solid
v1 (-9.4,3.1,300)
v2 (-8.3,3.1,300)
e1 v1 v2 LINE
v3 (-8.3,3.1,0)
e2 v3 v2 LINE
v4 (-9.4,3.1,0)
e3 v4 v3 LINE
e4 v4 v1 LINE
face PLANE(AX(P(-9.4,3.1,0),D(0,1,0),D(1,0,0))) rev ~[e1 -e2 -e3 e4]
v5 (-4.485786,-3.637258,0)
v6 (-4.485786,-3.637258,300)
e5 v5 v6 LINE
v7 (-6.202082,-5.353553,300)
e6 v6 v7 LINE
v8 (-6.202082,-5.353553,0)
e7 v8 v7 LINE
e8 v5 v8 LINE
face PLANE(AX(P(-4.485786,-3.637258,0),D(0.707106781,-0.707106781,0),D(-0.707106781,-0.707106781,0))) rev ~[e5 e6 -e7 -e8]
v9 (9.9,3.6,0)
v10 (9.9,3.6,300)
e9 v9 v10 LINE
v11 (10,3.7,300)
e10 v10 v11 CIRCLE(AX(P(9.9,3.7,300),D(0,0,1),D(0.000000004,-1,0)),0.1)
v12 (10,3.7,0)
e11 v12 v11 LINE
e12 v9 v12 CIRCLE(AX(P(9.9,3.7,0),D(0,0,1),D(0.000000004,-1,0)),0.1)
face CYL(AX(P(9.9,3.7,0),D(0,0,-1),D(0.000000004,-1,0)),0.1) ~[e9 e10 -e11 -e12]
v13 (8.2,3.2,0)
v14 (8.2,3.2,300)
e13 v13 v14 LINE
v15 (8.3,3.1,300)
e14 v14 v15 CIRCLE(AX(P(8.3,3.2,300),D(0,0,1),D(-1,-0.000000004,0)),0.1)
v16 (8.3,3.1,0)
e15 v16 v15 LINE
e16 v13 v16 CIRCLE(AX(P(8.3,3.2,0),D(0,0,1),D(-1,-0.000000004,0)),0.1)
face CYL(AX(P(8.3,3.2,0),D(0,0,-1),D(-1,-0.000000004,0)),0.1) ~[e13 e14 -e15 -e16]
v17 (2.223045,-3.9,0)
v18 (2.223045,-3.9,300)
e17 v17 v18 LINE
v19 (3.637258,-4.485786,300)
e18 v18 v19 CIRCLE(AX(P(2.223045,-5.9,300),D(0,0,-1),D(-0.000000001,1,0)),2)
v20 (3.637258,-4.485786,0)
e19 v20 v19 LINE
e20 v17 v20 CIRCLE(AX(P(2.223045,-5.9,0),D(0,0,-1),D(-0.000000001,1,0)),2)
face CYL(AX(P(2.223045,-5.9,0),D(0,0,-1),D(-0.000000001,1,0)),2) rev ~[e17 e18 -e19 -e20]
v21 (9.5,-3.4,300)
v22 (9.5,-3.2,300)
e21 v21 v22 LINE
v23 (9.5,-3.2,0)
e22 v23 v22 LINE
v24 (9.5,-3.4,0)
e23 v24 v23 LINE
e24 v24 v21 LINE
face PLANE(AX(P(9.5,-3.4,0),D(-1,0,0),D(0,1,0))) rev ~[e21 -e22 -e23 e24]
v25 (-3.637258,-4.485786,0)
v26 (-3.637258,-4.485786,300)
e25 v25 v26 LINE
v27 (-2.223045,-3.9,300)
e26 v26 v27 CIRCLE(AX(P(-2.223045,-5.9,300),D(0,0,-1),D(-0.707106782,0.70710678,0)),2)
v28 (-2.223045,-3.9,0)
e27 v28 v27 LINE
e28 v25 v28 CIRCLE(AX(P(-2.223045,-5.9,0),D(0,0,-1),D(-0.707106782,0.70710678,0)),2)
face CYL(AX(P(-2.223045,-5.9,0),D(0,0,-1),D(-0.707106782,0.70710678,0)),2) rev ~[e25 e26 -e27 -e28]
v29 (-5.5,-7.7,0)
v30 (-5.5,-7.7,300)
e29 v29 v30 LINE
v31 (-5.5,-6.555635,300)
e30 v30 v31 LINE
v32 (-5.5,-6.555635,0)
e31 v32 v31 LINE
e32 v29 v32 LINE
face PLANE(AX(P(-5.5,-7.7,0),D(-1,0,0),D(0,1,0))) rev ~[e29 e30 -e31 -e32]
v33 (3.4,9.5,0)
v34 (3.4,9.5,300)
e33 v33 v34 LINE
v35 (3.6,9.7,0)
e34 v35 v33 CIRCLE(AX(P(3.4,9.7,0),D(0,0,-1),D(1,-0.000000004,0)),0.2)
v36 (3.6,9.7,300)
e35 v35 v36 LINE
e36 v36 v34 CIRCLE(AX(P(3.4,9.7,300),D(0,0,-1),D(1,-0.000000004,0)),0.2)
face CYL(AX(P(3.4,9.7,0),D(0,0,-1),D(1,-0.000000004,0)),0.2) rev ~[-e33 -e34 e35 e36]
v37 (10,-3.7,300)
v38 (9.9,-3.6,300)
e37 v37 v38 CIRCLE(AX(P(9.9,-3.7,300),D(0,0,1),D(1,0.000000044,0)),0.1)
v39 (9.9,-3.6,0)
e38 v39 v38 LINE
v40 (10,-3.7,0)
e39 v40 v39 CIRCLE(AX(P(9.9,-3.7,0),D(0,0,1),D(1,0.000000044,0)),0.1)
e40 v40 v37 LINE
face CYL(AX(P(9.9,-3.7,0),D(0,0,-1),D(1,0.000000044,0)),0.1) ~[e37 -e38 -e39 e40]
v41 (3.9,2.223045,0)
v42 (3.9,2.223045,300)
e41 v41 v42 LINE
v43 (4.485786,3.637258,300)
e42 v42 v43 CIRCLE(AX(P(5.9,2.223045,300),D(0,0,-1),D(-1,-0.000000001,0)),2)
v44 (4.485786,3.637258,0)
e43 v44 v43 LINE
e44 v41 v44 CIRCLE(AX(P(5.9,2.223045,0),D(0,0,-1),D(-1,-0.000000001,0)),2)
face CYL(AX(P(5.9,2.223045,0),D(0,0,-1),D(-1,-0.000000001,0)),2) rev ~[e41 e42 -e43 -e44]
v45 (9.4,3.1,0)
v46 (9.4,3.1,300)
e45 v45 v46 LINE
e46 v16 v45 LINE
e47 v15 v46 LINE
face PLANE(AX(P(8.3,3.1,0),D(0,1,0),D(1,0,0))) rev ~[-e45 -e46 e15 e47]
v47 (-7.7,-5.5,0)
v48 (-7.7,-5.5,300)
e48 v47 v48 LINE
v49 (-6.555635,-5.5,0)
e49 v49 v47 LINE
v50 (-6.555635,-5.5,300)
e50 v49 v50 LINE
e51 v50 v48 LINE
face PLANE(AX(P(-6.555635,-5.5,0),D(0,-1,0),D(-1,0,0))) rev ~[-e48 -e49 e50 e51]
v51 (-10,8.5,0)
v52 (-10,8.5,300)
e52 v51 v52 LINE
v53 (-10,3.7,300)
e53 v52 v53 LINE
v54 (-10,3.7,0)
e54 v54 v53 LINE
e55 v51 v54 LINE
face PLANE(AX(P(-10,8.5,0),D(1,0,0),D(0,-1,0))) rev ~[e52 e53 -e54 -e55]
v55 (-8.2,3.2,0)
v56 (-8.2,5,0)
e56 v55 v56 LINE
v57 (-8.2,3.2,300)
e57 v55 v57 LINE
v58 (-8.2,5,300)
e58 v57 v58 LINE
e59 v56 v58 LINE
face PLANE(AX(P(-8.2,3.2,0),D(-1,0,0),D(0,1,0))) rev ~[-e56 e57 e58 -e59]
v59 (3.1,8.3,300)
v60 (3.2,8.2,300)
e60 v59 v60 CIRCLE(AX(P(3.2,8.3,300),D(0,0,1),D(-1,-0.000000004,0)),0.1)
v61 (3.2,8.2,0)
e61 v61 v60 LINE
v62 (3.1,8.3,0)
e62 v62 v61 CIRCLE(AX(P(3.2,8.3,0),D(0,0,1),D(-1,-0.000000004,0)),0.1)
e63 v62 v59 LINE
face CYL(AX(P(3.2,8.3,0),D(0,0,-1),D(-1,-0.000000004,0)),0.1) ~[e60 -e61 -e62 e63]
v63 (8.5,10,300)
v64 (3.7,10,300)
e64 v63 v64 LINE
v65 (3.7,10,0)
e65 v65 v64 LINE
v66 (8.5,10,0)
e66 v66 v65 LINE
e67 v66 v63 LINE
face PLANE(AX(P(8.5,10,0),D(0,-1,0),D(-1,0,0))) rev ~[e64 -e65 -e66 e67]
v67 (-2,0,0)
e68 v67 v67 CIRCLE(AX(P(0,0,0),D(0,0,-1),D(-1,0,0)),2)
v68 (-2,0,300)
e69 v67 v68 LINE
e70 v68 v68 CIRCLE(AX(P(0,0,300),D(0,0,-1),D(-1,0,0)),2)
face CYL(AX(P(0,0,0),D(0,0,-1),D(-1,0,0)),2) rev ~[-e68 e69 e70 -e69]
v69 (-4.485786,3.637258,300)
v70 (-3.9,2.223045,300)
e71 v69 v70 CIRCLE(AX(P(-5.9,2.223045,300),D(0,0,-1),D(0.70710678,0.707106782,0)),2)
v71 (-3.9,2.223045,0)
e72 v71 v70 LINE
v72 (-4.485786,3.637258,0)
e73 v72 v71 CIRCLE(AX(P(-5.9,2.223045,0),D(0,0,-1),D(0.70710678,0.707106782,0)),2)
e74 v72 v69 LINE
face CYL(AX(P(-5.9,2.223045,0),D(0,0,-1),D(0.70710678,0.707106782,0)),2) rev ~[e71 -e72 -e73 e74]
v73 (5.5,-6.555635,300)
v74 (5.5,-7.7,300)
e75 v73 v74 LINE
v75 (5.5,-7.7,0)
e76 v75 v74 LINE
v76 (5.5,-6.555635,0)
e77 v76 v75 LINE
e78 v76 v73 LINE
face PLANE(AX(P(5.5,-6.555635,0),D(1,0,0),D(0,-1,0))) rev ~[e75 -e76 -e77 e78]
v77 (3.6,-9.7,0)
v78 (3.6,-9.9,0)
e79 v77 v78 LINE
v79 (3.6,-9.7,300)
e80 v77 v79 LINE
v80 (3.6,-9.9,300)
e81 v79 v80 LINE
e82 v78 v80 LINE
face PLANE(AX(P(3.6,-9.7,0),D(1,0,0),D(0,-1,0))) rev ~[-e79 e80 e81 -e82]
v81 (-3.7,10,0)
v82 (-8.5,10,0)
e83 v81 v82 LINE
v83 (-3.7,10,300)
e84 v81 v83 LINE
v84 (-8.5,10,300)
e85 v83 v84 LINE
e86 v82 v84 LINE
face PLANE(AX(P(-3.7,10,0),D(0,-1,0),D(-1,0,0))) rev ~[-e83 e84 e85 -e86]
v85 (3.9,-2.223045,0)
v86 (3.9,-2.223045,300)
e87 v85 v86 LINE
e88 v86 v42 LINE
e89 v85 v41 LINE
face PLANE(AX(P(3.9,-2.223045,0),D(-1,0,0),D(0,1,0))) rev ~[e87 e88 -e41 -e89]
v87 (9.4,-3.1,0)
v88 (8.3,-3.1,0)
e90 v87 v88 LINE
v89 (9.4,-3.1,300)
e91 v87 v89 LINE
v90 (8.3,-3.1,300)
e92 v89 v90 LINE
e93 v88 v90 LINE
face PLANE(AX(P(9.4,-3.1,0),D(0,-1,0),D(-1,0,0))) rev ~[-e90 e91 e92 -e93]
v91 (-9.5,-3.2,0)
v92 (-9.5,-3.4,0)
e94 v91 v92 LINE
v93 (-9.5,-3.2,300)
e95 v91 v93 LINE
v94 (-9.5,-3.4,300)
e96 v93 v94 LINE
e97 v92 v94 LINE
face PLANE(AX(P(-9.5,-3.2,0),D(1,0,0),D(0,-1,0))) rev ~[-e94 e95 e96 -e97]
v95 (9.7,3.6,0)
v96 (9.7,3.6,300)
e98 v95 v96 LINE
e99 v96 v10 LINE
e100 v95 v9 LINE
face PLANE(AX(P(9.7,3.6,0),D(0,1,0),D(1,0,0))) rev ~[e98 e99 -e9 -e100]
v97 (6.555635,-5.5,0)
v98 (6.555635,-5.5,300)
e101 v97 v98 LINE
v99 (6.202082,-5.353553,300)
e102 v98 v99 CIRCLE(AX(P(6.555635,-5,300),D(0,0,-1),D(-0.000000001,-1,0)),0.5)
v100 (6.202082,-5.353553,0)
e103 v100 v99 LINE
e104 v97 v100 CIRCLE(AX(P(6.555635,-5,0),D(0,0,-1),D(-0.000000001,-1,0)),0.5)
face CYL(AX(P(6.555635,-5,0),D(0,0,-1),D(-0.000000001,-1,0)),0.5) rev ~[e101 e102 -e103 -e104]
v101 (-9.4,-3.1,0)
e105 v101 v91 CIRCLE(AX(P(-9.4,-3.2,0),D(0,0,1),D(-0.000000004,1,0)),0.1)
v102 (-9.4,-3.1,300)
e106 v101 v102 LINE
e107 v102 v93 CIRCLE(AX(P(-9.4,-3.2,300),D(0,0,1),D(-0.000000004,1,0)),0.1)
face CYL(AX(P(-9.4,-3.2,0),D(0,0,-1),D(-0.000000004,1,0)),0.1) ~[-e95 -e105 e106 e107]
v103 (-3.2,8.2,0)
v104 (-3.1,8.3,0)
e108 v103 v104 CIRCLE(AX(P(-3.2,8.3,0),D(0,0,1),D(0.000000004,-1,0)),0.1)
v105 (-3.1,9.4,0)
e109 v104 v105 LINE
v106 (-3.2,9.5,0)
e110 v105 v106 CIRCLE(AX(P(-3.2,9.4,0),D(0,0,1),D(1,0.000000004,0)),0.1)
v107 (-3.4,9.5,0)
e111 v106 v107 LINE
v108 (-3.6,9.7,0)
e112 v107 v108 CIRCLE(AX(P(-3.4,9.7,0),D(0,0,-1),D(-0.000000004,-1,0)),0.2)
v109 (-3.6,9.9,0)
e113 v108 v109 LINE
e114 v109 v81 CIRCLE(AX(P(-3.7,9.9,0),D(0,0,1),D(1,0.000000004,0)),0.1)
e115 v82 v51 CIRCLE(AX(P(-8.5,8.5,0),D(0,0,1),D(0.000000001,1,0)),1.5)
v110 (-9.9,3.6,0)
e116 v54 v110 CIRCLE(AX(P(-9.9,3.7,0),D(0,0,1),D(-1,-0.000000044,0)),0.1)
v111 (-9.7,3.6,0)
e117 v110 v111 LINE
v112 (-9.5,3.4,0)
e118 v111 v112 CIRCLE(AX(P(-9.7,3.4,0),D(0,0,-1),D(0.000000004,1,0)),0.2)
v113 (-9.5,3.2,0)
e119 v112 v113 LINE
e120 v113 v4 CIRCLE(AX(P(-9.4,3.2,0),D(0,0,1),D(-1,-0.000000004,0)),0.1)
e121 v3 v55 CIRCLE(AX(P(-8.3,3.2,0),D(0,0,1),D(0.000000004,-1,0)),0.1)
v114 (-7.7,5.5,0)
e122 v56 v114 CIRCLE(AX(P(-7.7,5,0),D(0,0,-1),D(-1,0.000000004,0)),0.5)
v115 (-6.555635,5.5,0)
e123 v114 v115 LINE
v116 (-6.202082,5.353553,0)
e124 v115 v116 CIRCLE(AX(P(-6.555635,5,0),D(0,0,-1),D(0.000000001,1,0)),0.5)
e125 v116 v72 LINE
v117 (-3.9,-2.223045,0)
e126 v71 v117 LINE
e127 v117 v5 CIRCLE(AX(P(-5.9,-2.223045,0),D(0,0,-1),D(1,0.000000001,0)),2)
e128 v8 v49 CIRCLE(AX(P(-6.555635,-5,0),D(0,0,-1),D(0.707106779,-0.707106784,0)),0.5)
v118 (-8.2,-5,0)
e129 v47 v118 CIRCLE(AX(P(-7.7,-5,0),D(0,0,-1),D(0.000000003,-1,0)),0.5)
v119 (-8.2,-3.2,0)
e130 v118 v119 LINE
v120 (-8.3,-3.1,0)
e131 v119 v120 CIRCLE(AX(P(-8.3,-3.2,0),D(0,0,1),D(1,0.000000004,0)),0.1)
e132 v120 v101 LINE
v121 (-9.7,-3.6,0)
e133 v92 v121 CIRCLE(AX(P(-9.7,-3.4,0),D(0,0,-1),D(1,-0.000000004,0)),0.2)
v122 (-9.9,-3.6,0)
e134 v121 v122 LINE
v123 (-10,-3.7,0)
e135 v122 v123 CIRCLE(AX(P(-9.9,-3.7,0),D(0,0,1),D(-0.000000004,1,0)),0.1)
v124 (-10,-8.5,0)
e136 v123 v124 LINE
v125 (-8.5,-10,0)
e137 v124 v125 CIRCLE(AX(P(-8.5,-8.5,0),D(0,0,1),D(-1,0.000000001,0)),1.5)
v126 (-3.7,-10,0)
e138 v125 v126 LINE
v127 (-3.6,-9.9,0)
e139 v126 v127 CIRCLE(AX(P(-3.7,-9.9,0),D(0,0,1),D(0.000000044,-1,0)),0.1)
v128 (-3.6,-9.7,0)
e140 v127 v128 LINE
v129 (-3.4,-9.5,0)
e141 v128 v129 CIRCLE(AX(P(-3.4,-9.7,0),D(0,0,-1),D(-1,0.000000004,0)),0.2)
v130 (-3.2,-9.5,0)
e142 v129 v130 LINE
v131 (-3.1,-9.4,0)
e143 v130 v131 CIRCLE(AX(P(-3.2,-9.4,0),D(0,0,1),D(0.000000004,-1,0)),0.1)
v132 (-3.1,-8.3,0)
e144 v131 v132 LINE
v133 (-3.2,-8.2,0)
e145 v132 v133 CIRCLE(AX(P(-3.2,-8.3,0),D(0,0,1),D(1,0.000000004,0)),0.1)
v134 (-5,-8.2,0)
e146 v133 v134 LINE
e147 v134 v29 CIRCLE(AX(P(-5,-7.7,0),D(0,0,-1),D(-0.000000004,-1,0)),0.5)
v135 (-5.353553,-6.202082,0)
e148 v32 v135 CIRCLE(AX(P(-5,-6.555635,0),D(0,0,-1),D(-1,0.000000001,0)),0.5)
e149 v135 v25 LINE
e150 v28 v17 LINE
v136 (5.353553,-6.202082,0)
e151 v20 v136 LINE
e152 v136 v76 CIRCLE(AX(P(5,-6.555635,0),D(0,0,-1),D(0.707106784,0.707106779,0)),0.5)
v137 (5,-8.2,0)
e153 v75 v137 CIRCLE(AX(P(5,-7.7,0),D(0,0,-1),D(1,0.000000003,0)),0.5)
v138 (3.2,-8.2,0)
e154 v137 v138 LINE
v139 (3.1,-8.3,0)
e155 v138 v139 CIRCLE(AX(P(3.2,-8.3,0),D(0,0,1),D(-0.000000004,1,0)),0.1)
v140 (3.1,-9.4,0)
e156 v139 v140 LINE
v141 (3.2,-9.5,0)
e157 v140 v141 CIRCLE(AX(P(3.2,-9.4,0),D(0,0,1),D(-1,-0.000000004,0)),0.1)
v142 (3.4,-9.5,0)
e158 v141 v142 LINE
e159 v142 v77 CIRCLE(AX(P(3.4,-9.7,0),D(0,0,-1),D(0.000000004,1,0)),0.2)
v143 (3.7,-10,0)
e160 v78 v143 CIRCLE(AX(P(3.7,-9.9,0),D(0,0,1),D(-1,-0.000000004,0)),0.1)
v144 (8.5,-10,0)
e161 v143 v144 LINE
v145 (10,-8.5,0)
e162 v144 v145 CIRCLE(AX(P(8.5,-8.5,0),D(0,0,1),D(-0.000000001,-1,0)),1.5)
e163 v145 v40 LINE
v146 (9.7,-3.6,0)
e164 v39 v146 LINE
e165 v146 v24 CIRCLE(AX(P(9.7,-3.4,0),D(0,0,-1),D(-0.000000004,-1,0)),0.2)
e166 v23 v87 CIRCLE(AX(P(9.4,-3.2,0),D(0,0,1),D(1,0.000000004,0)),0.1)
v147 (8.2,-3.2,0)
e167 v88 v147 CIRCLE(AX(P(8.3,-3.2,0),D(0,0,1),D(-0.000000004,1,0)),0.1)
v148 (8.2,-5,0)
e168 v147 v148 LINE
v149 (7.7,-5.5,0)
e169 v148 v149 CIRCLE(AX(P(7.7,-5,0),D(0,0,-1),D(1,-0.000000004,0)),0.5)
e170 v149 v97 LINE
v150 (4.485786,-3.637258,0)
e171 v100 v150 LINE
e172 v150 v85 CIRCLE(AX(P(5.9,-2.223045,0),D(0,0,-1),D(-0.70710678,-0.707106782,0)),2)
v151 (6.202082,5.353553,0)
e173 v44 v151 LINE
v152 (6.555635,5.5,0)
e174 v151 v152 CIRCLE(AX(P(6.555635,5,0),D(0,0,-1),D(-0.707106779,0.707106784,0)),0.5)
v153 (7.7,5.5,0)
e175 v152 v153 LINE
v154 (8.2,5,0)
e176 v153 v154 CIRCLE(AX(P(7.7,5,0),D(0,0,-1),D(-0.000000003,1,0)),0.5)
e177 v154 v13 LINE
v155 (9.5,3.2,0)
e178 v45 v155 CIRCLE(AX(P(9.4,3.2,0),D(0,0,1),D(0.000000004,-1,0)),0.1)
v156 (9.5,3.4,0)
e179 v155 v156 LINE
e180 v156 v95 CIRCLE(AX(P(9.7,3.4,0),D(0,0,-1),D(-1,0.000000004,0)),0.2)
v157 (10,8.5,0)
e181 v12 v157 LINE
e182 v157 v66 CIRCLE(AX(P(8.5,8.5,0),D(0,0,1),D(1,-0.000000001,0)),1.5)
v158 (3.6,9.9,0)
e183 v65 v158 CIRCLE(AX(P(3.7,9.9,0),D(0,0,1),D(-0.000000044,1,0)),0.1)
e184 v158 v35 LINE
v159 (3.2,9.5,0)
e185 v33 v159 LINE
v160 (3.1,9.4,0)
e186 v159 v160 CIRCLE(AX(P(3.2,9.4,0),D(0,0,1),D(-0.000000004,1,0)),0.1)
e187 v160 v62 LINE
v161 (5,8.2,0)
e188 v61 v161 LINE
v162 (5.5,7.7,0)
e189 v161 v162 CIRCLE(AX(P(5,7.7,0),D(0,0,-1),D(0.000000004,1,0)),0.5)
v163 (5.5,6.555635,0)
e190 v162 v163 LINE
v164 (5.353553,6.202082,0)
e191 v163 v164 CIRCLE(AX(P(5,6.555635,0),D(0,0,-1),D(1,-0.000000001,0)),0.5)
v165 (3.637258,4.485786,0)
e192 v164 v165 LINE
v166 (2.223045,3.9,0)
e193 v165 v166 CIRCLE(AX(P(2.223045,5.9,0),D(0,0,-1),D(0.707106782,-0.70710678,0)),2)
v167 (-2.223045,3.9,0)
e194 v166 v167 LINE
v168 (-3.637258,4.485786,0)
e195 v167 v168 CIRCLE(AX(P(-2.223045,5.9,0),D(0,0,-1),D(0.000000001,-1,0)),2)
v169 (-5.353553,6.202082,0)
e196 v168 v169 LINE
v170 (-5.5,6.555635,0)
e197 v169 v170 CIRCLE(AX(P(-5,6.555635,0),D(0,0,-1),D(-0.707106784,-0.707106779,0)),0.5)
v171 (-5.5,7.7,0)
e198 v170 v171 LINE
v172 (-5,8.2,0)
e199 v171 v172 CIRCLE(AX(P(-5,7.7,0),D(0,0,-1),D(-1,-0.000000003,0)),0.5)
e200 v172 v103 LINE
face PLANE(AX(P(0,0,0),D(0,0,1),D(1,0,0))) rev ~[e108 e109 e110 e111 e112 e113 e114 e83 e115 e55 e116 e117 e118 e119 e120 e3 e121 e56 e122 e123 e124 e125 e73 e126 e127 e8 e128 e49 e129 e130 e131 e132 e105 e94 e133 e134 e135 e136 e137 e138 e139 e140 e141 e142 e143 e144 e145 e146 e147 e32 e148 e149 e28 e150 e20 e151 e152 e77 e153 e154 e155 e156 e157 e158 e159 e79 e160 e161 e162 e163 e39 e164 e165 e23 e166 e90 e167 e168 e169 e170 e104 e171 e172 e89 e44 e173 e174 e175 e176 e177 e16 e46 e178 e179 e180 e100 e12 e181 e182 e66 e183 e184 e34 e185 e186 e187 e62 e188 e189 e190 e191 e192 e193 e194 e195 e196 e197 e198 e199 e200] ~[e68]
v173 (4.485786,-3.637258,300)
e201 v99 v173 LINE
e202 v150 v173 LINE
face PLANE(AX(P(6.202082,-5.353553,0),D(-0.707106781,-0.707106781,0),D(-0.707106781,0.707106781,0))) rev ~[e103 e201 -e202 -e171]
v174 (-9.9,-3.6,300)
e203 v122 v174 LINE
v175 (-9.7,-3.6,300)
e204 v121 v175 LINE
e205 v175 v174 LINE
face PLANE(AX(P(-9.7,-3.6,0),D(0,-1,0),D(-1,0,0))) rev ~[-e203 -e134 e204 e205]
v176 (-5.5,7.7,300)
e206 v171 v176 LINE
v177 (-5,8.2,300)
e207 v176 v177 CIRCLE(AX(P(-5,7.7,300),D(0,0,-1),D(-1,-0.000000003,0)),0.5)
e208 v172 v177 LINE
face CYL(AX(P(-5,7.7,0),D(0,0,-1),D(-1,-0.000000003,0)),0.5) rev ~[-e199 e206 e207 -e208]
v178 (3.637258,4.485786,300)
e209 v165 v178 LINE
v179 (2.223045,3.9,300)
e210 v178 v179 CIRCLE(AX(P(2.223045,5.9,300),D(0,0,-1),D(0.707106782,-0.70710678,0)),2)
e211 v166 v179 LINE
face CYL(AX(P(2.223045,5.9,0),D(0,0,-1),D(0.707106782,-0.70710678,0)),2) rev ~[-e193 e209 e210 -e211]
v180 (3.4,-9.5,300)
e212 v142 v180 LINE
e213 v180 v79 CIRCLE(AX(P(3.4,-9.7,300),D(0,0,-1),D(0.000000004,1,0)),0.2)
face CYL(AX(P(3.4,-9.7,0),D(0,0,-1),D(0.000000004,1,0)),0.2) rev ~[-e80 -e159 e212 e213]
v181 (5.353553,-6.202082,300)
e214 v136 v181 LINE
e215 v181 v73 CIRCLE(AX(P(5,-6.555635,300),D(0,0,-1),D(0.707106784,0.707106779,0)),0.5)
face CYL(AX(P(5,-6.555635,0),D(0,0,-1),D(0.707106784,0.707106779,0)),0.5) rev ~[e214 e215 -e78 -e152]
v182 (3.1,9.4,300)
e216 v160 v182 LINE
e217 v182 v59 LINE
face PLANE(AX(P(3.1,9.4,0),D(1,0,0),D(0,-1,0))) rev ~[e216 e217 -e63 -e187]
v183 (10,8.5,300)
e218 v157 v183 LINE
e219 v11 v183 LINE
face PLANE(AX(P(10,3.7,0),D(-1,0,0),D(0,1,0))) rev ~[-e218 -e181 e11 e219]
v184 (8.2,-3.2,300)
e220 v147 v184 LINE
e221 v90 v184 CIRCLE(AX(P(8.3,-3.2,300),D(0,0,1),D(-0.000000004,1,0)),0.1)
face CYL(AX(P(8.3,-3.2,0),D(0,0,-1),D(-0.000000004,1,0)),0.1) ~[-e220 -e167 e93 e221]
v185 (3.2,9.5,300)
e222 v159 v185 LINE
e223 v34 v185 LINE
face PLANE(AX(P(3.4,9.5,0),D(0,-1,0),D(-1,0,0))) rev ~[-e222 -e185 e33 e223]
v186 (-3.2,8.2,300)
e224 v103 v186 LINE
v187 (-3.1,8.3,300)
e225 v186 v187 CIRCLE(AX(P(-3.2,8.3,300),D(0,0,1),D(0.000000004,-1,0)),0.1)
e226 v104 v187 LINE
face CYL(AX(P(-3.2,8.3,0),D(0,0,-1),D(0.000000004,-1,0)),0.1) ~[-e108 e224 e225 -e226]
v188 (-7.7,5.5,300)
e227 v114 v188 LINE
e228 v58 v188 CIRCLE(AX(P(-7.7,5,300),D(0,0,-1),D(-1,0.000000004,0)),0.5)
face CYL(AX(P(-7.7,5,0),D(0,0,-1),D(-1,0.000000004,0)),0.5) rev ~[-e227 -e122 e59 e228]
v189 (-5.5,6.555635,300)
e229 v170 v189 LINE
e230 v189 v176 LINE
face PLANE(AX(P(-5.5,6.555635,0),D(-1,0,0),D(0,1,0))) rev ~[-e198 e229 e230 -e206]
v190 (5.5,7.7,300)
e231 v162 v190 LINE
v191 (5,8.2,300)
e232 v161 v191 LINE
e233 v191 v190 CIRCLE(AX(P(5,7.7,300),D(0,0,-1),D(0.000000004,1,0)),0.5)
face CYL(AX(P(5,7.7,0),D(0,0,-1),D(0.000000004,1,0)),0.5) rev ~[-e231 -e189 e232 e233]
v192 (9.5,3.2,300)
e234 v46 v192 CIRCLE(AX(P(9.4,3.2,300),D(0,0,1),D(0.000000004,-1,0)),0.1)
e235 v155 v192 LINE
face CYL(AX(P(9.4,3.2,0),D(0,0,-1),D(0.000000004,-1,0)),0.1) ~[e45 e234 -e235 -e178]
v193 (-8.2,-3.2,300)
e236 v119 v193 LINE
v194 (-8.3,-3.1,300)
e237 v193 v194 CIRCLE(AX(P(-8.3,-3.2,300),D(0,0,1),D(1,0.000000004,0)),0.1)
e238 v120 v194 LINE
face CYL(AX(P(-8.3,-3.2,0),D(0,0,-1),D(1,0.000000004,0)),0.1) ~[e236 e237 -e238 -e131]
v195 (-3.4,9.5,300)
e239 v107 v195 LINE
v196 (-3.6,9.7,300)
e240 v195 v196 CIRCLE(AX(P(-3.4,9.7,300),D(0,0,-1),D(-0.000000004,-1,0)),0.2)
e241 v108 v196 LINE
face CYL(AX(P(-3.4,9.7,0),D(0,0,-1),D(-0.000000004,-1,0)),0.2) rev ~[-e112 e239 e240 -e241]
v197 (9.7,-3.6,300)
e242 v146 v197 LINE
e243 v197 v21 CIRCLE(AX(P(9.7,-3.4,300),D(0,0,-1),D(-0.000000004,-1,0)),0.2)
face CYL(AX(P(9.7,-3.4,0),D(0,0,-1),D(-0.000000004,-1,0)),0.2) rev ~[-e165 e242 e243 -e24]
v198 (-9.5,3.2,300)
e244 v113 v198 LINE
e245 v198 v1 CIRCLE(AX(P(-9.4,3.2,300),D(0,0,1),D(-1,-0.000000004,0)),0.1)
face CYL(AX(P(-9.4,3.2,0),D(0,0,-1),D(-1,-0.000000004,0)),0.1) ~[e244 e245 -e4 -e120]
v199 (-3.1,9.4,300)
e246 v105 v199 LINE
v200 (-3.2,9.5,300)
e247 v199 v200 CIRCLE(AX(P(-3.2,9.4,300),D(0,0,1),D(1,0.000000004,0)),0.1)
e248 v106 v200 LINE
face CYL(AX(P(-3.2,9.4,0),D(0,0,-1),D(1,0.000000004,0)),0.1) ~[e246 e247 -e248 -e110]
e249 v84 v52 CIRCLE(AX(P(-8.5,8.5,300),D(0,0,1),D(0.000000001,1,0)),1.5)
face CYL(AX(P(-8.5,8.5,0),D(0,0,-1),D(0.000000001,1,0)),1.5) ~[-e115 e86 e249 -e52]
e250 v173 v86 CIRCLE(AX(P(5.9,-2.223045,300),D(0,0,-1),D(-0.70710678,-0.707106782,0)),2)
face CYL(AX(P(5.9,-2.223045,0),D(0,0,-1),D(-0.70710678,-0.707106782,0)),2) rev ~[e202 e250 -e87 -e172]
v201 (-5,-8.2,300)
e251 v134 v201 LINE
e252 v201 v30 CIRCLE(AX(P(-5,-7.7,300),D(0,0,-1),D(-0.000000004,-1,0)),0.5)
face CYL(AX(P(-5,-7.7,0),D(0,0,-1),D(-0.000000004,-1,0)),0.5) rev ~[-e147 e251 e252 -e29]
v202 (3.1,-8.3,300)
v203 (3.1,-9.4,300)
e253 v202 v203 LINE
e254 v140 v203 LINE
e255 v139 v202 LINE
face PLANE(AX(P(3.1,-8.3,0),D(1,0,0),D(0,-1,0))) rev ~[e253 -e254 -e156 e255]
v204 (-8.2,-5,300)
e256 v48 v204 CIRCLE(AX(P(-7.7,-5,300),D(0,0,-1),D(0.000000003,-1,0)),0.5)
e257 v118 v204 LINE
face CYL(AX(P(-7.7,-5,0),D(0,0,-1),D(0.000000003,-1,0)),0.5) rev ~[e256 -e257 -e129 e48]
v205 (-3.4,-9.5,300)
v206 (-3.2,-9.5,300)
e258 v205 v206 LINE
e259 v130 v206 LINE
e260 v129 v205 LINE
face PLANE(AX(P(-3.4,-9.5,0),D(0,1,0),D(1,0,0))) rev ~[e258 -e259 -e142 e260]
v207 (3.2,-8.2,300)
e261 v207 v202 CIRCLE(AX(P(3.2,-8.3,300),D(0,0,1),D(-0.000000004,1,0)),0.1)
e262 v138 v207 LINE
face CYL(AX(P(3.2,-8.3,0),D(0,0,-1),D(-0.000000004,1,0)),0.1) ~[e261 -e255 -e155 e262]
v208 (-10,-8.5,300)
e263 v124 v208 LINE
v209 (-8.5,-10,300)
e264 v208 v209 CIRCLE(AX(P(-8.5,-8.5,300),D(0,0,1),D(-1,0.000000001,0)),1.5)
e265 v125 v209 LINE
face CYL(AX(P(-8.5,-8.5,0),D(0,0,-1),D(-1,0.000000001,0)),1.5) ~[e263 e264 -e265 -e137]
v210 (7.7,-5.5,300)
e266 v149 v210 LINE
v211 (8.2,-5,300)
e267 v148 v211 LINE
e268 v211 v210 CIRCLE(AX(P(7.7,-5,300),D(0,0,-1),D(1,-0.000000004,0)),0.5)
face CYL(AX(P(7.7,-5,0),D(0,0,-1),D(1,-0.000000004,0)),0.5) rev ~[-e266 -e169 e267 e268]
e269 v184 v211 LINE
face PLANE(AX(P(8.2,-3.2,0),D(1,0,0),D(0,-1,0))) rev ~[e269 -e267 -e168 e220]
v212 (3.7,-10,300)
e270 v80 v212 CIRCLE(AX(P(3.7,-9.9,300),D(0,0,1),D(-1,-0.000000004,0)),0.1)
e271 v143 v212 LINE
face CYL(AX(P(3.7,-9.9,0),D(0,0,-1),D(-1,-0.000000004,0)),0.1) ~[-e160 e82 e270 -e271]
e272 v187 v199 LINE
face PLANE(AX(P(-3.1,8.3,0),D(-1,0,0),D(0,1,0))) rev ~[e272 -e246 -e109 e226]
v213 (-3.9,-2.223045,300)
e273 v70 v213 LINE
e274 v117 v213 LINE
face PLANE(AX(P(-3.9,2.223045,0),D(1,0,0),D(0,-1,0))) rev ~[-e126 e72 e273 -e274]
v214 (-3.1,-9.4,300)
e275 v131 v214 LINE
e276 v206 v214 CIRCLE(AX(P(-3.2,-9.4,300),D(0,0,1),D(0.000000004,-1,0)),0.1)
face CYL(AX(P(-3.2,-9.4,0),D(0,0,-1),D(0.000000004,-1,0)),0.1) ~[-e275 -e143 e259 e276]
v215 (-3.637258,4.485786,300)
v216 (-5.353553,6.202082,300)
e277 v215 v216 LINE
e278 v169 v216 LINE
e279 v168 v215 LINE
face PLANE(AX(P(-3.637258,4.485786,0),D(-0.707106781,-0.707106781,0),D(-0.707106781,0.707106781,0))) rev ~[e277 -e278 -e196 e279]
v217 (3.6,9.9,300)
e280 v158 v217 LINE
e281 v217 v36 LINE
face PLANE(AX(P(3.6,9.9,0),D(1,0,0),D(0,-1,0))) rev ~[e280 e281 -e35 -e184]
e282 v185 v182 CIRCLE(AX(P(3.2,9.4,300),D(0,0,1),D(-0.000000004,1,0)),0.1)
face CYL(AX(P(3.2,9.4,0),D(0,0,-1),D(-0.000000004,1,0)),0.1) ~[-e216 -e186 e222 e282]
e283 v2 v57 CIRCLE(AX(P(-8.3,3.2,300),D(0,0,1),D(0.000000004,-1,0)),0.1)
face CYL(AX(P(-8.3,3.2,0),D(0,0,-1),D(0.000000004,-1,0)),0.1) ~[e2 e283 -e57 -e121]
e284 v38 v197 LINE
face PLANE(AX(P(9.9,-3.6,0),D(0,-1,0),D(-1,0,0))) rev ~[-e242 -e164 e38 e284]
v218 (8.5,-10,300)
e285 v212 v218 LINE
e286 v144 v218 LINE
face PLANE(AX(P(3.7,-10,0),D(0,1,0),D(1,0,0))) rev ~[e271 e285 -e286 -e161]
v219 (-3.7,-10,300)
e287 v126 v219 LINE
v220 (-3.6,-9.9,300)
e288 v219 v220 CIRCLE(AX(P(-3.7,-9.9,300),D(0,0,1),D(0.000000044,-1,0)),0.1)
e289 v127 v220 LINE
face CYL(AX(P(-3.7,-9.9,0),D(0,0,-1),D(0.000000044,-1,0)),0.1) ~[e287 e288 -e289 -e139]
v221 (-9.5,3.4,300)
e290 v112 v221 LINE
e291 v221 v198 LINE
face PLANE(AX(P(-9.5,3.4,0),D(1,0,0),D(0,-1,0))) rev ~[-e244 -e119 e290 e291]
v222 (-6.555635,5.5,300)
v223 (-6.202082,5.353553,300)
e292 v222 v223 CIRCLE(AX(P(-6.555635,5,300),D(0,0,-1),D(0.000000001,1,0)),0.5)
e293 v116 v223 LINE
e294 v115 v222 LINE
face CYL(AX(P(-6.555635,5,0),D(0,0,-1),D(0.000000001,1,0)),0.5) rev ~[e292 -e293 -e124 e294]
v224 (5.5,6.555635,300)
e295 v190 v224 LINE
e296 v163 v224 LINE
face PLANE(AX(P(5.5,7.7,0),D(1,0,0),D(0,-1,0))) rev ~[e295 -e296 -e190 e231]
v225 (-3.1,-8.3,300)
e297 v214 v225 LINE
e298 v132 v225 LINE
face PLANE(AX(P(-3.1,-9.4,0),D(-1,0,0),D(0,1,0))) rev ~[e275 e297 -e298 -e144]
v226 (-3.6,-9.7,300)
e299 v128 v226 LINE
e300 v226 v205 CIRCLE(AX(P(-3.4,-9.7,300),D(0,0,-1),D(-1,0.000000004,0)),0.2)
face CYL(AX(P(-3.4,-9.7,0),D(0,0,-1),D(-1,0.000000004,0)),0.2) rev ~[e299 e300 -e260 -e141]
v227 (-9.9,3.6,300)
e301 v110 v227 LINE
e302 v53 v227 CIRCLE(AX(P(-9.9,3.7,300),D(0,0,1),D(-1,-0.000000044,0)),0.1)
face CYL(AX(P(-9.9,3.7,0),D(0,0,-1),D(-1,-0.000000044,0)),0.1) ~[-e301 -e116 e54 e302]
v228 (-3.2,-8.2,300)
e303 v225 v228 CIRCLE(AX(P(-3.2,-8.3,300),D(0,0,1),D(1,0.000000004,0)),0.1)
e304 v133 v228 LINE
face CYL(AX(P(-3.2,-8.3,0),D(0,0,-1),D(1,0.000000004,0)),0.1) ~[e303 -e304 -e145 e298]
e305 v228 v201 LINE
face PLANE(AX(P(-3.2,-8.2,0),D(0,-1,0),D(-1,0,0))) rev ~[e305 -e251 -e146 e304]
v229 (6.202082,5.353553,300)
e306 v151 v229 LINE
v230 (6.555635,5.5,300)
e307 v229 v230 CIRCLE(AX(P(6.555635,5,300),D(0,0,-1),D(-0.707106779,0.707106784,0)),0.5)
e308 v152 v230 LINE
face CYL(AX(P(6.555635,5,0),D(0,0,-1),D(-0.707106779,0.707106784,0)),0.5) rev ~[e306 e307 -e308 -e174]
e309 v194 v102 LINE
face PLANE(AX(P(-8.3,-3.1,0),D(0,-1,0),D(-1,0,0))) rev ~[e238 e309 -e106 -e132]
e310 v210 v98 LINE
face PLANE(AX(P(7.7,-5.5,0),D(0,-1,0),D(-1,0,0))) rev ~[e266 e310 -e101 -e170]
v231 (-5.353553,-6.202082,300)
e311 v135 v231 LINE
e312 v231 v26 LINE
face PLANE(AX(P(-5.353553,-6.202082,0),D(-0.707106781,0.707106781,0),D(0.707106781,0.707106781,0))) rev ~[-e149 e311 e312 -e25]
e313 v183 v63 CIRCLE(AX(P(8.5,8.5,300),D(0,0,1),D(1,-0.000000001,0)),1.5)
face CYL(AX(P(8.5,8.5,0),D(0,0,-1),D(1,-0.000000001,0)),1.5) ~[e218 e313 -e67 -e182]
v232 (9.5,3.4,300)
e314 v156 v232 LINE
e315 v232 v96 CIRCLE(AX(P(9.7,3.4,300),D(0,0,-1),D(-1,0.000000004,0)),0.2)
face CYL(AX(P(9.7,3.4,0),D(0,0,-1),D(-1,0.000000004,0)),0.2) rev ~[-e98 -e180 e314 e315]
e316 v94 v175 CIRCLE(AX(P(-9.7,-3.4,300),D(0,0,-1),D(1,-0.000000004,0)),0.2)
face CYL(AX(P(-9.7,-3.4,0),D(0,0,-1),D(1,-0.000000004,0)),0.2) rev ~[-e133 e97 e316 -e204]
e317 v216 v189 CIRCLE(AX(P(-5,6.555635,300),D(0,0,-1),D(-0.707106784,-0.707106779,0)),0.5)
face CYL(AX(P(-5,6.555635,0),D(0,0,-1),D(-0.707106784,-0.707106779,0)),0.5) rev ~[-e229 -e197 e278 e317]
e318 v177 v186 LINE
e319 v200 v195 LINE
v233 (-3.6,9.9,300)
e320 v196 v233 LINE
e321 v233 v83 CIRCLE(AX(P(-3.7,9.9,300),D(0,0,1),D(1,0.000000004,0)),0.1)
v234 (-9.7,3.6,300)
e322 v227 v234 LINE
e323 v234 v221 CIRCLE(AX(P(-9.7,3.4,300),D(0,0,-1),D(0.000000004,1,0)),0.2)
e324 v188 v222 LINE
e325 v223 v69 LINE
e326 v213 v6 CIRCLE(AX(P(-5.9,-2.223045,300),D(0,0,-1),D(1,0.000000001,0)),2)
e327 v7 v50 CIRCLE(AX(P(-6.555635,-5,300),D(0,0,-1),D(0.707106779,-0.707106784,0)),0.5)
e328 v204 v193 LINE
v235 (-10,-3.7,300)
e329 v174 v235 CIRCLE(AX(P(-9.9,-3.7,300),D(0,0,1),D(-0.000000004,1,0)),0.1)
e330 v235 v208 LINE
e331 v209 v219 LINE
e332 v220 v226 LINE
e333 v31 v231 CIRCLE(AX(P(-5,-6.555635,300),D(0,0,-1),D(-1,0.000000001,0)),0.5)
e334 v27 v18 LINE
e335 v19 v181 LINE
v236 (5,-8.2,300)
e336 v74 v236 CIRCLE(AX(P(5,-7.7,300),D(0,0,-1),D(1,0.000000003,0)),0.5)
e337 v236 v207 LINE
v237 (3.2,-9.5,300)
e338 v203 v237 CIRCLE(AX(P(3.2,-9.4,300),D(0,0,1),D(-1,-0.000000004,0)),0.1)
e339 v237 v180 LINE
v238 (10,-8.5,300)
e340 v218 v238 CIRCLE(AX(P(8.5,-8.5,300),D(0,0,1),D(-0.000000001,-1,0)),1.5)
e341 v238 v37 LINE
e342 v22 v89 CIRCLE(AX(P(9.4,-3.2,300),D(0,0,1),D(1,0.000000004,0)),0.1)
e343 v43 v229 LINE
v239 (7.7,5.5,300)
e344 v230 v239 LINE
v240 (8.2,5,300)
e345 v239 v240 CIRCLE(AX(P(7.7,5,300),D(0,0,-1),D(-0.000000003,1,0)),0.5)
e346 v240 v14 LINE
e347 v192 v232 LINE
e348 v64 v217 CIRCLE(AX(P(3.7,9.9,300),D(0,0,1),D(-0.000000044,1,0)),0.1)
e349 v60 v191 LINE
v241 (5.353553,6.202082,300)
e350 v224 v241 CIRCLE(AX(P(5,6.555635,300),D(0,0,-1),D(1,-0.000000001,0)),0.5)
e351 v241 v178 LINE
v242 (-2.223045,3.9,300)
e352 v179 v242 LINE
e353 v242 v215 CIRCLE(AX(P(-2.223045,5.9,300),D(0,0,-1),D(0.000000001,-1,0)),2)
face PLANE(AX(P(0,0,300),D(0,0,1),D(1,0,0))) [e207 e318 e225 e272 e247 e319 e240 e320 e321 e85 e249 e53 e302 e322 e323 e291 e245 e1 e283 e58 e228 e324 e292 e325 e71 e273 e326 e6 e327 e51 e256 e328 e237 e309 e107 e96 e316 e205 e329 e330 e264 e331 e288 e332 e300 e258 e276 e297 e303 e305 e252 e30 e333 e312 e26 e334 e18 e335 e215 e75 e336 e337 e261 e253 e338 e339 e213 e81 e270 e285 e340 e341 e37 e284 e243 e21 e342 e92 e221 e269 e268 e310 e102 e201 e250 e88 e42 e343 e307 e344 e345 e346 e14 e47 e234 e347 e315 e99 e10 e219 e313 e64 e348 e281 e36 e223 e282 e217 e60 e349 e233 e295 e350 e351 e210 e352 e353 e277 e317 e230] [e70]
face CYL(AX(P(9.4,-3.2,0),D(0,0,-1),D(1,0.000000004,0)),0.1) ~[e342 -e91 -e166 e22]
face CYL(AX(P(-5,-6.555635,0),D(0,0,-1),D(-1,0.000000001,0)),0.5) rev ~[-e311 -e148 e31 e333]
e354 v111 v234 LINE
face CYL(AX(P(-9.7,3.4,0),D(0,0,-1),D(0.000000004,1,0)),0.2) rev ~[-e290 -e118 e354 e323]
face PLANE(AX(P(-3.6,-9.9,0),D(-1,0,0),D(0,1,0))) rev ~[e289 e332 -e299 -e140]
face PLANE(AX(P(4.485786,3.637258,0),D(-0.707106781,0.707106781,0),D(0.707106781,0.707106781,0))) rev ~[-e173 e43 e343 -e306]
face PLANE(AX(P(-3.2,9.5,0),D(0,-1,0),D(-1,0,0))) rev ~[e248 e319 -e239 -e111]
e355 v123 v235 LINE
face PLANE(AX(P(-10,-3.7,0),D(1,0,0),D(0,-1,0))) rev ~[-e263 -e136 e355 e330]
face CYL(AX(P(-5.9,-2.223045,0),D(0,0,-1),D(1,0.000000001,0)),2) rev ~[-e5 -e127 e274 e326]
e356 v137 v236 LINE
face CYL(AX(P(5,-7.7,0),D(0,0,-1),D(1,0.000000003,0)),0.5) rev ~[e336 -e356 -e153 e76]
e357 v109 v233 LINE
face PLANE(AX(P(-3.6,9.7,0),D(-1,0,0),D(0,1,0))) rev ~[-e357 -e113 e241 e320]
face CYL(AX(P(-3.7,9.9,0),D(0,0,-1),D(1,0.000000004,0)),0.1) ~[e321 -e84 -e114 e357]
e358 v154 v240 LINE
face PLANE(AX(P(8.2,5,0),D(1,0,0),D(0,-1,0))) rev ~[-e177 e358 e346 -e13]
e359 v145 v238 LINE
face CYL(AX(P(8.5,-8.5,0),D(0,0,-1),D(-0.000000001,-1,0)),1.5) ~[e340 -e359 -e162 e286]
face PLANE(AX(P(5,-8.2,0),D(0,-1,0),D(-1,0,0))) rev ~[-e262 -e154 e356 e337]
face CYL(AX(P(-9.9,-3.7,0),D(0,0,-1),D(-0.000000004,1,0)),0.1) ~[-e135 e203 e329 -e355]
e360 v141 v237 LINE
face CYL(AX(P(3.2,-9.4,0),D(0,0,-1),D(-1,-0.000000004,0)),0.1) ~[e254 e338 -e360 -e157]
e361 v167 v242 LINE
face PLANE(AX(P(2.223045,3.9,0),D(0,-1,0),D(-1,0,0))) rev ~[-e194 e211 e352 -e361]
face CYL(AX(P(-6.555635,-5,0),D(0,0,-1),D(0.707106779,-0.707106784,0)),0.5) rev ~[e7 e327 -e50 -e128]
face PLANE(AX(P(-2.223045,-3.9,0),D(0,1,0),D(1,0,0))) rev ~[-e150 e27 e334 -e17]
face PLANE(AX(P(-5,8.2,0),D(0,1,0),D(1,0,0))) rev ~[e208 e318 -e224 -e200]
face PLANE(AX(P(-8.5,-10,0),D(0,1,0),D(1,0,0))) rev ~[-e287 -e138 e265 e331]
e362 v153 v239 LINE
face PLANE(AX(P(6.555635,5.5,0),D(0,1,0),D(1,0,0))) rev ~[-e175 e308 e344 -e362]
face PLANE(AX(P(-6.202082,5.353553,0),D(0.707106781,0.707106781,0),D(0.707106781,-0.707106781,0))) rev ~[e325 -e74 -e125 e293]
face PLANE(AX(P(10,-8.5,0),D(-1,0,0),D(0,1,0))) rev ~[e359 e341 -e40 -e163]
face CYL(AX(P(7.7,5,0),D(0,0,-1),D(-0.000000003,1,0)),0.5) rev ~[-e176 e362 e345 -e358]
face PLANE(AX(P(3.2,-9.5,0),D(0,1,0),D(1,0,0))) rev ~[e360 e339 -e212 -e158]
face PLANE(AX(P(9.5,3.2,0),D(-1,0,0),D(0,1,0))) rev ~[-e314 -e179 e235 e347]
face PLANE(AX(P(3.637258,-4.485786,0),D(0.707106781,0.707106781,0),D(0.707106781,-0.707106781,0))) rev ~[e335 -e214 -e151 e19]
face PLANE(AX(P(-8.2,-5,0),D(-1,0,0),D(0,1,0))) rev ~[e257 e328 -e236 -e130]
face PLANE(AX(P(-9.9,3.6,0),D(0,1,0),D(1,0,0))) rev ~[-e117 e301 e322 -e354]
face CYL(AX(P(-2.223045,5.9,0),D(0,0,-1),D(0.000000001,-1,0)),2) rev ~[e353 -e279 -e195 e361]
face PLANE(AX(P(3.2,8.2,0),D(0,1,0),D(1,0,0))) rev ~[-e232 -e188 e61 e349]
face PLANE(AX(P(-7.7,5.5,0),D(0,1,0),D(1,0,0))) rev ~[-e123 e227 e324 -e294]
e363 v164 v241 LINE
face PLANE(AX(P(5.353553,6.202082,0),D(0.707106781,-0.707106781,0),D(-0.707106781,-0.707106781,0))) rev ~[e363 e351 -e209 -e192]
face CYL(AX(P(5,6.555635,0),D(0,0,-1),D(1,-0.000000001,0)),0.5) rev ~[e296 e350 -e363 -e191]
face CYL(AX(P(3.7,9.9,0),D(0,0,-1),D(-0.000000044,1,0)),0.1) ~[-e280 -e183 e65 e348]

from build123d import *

# Parameters (mm, degrees)
BOSS_EXTRU_2_DEPTH      = 300
ESQUISSE3_R             = 2
ENL_V_MAT_EXTRU_1_DEPTH = 300


with BuildPart() as part:
    # Esquisse2 → Boss.-Extru.2 (new body)
    with BuildSketch(Plane.XY):
        with BuildLine():
            Line((10, -8.5), (10, -3.7))
            ThreePointArc((10, -3.7), (9.970710687, -3.629289335), (9.900000029, -3.600000004))
            Line((9.900000029, -3.600000004), (9.700000029, -3.600000004))
            ThreePointArc((9.700000029, -3.600000004), (9.558578673, -3.54142136), (9.500000029, -3.400000004))
            Line((9.500000029, -3.400000004), (9.500000029, -3.200000004))
            ThreePointArc((9.500000029, -3.200000004), (9.470710707, -3.129289326), (9.400000029, -3.100000004))
            Line((9.400000029, -3.100000004), (8.300000029, -3.100000004))
            ThreePointArc((8.300000029, -3.100000004), (8.229289342, -3.129289335), (8.200000029, -3.200000029))
            Line((8.200000029, -3.200000029), (8.200000029, -5.000000029))
            ThreePointArc((8.200000029, -5.000000029), (8.053553419, -5.353553419), (7.700000029, -5.500000029))
            Line((7.700000029, -5.500000029), (6.555634947, -5.500000029))
            ThreePointArc((6.555634947, -5.500000029), (6.364293231, -5.461939795), (6.202081557, -5.353553419))
            Line((6.202081557, -5.353553419), (4.485786438, -3.6372583))
            ThreePointArc((4.485786438, -3.6372583), (4.052240935, -2.988411603), (3.9, -2.223044738))
            Line((3.9, -2.223044738), (3.9, 2.223044738))
            ThreePointArc((3.9, 2.223044738), (4.052240935, 2.988411603), (4.485786438, 3.6372583))
            Line((4.485786438, 3.6372583), (6.202081528, 5.353553391))
            ThreePointArc((6.202081528, 5.353553391), (6.364293202, 5.461939766), (6.555634919, 5.5))
            Line((6.555634919, 5.5), (7.7, 5.5))
            ThreePointArc((7.7, 5.5), (8.053553391, 5.353553391), (8.2, 5))
            Line((8.2, 5), (8.2, 3.2))
            ThreePointArc((8.2, 3.2), (8.229289322, 3.129289322), (8.3, 3.1))
            Line((8.3, 3.1), (9.4, 3.1))
            ThreePointArc((9.4, 3.1), (9.470710678, 3.129289322), (9.5, 3.2))
            Line((9.5, 3.2), (9.5, 3.4))
            ThreePointArc((9.5, 3.4), (9.558578644, 3.541421356), (9.7, 3.6))
            Line((9.7, 3.6), (9.9, 3.6))
            ThreePointArc((9.9, 3.6), (9.970710678, 3.629289322), (10, 3.7))
            Line((10, 3.7), (10, 8.5))
            ThreePointArc((10, 8.5), (9.560660172, 9.560660172), (8.5, 10))
            Line((8.5, 10), (3.7, 10))
            ThreePointArc((3.7, 10), (3.629289335, 9.970710687), (3.600000004, 9.900000029))
            Line((3.600000004, 9.900000029), (3.600000004, 9.700000029))
            ThreePointArc((3.600000004, 9.700000029), (3.54142136, 9.558578673), (3.400000004, 9.500000029))
            Line((3.400000004, 9.500000029), (3.200000004, 9.500000029))
            ThreePointArc((3.200000004, 9.500000029), (3.129289326, 9.470710707), (3.100000004, 9.400000029))
            Line((3.100000004, 9.400000029), (3.100000004, 8.300000029))
            ThreePointArc((3.100000004, 8.300000029), (3.129289335, 8.229289342), (3.200000029, 8.200000029))
            Line((3.200000029, 8.200000029), (5.000000029, 8.200000029))
            ThreePointArc((5.000000029, 8.200000029), (5.353553419, 8.053553419), (5.500000029, 7.700000029))
            Line((5.500000029, 7.700000029), (5.500000029, 6.555634947))
            ThreePointArc((5.500000029, 6.555634947), (5.461939795, 6.364293231), (5.353553419, 6.202081557))
            Line((5.353553419, 6.202081557), (3.6372583, 4.485786438))
            ThreePointArc((3.6372583, 4.485786438), (2.988411603, 4.052240935), (2.223044738, 3.9))
            Line((2.223044738, 3.9), (-2.223044738, 3.9))
            ThreePointArc((-2.223044738, 3.9), (-2.988411603, 4.052240935), (-3.6372583, 4.485786438))
            Line((-3.6372583, 4.485786438), (-5.353553391, 6.202081528))
            ThreePointArc((-5.353553391, 6.202081528), (-5.461939766, 6.364293202), (-5.5, 6.555634919))
            Line((-5.5, 6.555634919), (-5.5, 7.7))
            ThreePointArc((-5.5, 7.7), (-5.353553391, 8.053553391), (-5, 8.2))
            Line((-5, 8.2), (-3.2, 8.2))
            ThreePointArc((-3.2, 8.2), (-3.129289322, 8.229289322), (-3.1, 8.3))
            Line((-3.1, 8.3), (-3.1, 9.4))
            ThreePointArc((-3.1, 9.4), (-3.129289322, 9.470710678), (-3.2, 9.5))
            Line((-3.2, 9.5), (-3.4, 9.5))
            ThreePointArc((-3.4, 9.5), (-3.541421356, 9.558578644), (-3.6, 9.7))
            Line((-3.6, 9.7), (-3.6, 9.9))
            ThreePointArc((-3.6, 9.9), (-3.629289322, 9.970710678), (-3.7, 10))
            Line((-3.7, 10), (-8.5, 10))
            ThreePointArc((-8.5, 10), (-9.560660172, 9.560660172), (-10, 8.5))
            Line((-10, 8.5), (-10, 3.7))
            ThreePointArc((-10, 3.7), (-9.970710687, 3.629289335), (-9.900000029, 3.600000004))
            Line((-9.900000029, 3.600000004), (-9.700000029, 3.600000004))
            ThreePointArc((-9.700000029, 3.600000004), (-9.558578673, 3.54142136), (-9.500000029, 3.400000004))
            Line((-9.500000029, 3.400000004), (-9.500000029, 3.200000004))
            ThreePointArc((-9.500000029, 3.200000004), (-9.470710707, 3.129289326), (-9.400000029, 3.100000004))
            Line((-9.400000029, 3.100000004), (-8.300000029, 3.100000004))
            ThreePointArc((-8.300000029, 3.100000004), (-8.229289342, 3.129289335), (-8.200000029, 3.200000029))
            Line((-8.200000029, 3.200000029), (-8.200000029, 5.000000029))
            ThreePointArc((-8.200000029, 5.000000029), (-8.053553419, 5.353553419), (-7.700000029, 5.500000029))
            Line((-7.700000029, 5.500000029), (-6.555634947, 5.500000029))
            ThreePointArc((-6.555634947, 5.500000029), (-6.364293231, 5.461939795), (-6.202081557, 5.353553419))
            Line((-6.202081557, 5.353553419), (-4.485786438, 3.6372583))
            ThreePointArc((-4.485786438, 3.6372583), (-4.052240935, 2.988411603), (-3.9, 2.223044738))
            Line((-3.9, 2.223044738), (-3.9, -2.223044738))
            ThreePointArc((-3.9, -2.223044738), (-4.052240935, -2.988411603), (-4.485786438, -3.6372583))
            Line((-4.485786438, -3.6372583), (-6.202081528, -5.353553391))
            ThreePointArc((-6.202081528, -5.353553391), (-6.364293202, -5.461939766), (-6.555634919, -5.5))
            Line((-6.555634919, -5.5), (-7.7, -5.5))
            ThreePointArc((-7.7, -5.5), (-8.053553391, -5.353553391), (-8.2, -5))
            Line((-8.2, -5), (-8.2, -3.2))
            ThreePointArc((-8.2, -3.2), (-8.229289322, -3.129289322), (-8.3, -3.1))
            Line((-8.3, -3.1), (-9.4, -3.1))
            ThreePointArc((-9.4, -3.1), (-9.470710678, -3.129289322), (-9.5, -3.2))
            Line((-9.5, -3.2), (-9.5, -3.4))
            ThreePointArc((-9.5, -3.4), (-9.558578644, -3.541421356), (-9.7, -3.6))
            Line((-9.7, -3.6), (-9.9, -3.6))
            ThreePointArc((-9.9, -3.6), (-9.970710678, -3.629289322), (-10, -3.7))
            Line((-10, -3.7), (-10, -8.5))
            ThreePointArc((-10, -8.5), (-9.560660172, -9.560660172), (-8.5, -10))
            Line((-8.5, -10), (-3.7, -10))
            ThreePointArc((-3.7, -10), (-3.629289335, -9.970710687), (-3.600000004, -9.900000029))
            Line((-3.600000004, -9.900000029), (-3.600000004, -9.700000029))
            ThreePointArc((-3.600000004, -9.700000029), (-3.54142136, -9.558578673), (-3.400000004, -9.500000029))
            Line((-3.400000004, -9.500000029), (-3.200000004, -9.500000029))
            ThreePointArc((-3.200000004, -9.500000029), (-3.129289326, -9.470710707), (-3.100000004, -9.400000029))
            Line((-3.100000004, -9.400000029), (-3.100000004, -8.300000029))
            ThreePointArc((-3.100000004, -8.300000029), (-3.129289335, -8.229289342), (-3.200000029, -8.200000029))
            Line((-3.200000029, -8.200000029), (-5.000000029, -8.200000029))
            ThreePointArc((-5.000000029, -8.200000029), (-5.353553419, -8.053553419), (-5.500000029, -7.700000029))
            Line((-5.500000029, -7.700000029), (-5.500000029, -6.555634947))
            ThreePointArc((-5.500000029, -6.555634947), (-5.461939795, -6.364293231), (-5.353553419, -6.202081557))
            Line((-5.353553419, -6.202081557), (-3.6372583, -4.485786438))
            ThreePointArc((-3.6372583, -4.485786438), (-2.988411603, -4.052240935), (-2.223044738, -3.9))
            Line((-2.223044738, -3.9), (2.223044738, -3.9))
            ThreePointArc((2.223044738, -3.9), (2.988411603, -4.052240935), (3.6372583, -4.485786438))
            Line((3.6372583, -4.485786438), (5.353553391, -6.202081528))
            ThreePointArc((5.353553391, -6.202081528), (5.461939766, -6.364293202), (5.5, -6.555634919))
            Line((5.5, -6.555634919), (5.5, -7.7))
            ThreePointArc((5.5, -7.7), (5.353553391, -8.053553391), (5, -8.2))
            Line((5, -8.2), (3.2, -8.2))
            ThreePointArc((3.2, -8.2), (3.129289322, -8.229289322), (3.1, -8.3))
            Line((3.1, -8.3), (3.1, -9.4))
            ThreePointArc((3.1, -9.4), (3.129289322, -9.470710678), (3.2, -9.5))
            Line((3.2, -9.5), (3.4, -9.5))
            ThreePointArc((3.4, -9.5), (3.541421356, -9.558578644), (3.6, -9.7))
            Line((3.6, -9.7), (3.6, -9.9))
            ThreePointArc((3.6, -9.9), (3.629289322, -9.970710678), (3.7, -10))
            Line((3.7, -10), (8.5, -10))
            ThreePointArc((8.5, -10), (9.560660172, -9.560660172), (10, -8.5))
        make_face()
    extrude(amount=BOSS_EXTRU_2_DEPTH)

    # Esquisse3 → Enlèv. mat.-Extru.1 (cut)
    with BuildSketch(Plane(origin=(0, 0, 0), x_dir=(-1, 0, 0), z_dir=(0, 0, -1))):
        Circle(ESQUISSE3_R)
    extrude(amount=-ENL_V_MAT_EXTRU_1_DEPTH, mode=Mode.SUBTRACT)


solid = part.part
